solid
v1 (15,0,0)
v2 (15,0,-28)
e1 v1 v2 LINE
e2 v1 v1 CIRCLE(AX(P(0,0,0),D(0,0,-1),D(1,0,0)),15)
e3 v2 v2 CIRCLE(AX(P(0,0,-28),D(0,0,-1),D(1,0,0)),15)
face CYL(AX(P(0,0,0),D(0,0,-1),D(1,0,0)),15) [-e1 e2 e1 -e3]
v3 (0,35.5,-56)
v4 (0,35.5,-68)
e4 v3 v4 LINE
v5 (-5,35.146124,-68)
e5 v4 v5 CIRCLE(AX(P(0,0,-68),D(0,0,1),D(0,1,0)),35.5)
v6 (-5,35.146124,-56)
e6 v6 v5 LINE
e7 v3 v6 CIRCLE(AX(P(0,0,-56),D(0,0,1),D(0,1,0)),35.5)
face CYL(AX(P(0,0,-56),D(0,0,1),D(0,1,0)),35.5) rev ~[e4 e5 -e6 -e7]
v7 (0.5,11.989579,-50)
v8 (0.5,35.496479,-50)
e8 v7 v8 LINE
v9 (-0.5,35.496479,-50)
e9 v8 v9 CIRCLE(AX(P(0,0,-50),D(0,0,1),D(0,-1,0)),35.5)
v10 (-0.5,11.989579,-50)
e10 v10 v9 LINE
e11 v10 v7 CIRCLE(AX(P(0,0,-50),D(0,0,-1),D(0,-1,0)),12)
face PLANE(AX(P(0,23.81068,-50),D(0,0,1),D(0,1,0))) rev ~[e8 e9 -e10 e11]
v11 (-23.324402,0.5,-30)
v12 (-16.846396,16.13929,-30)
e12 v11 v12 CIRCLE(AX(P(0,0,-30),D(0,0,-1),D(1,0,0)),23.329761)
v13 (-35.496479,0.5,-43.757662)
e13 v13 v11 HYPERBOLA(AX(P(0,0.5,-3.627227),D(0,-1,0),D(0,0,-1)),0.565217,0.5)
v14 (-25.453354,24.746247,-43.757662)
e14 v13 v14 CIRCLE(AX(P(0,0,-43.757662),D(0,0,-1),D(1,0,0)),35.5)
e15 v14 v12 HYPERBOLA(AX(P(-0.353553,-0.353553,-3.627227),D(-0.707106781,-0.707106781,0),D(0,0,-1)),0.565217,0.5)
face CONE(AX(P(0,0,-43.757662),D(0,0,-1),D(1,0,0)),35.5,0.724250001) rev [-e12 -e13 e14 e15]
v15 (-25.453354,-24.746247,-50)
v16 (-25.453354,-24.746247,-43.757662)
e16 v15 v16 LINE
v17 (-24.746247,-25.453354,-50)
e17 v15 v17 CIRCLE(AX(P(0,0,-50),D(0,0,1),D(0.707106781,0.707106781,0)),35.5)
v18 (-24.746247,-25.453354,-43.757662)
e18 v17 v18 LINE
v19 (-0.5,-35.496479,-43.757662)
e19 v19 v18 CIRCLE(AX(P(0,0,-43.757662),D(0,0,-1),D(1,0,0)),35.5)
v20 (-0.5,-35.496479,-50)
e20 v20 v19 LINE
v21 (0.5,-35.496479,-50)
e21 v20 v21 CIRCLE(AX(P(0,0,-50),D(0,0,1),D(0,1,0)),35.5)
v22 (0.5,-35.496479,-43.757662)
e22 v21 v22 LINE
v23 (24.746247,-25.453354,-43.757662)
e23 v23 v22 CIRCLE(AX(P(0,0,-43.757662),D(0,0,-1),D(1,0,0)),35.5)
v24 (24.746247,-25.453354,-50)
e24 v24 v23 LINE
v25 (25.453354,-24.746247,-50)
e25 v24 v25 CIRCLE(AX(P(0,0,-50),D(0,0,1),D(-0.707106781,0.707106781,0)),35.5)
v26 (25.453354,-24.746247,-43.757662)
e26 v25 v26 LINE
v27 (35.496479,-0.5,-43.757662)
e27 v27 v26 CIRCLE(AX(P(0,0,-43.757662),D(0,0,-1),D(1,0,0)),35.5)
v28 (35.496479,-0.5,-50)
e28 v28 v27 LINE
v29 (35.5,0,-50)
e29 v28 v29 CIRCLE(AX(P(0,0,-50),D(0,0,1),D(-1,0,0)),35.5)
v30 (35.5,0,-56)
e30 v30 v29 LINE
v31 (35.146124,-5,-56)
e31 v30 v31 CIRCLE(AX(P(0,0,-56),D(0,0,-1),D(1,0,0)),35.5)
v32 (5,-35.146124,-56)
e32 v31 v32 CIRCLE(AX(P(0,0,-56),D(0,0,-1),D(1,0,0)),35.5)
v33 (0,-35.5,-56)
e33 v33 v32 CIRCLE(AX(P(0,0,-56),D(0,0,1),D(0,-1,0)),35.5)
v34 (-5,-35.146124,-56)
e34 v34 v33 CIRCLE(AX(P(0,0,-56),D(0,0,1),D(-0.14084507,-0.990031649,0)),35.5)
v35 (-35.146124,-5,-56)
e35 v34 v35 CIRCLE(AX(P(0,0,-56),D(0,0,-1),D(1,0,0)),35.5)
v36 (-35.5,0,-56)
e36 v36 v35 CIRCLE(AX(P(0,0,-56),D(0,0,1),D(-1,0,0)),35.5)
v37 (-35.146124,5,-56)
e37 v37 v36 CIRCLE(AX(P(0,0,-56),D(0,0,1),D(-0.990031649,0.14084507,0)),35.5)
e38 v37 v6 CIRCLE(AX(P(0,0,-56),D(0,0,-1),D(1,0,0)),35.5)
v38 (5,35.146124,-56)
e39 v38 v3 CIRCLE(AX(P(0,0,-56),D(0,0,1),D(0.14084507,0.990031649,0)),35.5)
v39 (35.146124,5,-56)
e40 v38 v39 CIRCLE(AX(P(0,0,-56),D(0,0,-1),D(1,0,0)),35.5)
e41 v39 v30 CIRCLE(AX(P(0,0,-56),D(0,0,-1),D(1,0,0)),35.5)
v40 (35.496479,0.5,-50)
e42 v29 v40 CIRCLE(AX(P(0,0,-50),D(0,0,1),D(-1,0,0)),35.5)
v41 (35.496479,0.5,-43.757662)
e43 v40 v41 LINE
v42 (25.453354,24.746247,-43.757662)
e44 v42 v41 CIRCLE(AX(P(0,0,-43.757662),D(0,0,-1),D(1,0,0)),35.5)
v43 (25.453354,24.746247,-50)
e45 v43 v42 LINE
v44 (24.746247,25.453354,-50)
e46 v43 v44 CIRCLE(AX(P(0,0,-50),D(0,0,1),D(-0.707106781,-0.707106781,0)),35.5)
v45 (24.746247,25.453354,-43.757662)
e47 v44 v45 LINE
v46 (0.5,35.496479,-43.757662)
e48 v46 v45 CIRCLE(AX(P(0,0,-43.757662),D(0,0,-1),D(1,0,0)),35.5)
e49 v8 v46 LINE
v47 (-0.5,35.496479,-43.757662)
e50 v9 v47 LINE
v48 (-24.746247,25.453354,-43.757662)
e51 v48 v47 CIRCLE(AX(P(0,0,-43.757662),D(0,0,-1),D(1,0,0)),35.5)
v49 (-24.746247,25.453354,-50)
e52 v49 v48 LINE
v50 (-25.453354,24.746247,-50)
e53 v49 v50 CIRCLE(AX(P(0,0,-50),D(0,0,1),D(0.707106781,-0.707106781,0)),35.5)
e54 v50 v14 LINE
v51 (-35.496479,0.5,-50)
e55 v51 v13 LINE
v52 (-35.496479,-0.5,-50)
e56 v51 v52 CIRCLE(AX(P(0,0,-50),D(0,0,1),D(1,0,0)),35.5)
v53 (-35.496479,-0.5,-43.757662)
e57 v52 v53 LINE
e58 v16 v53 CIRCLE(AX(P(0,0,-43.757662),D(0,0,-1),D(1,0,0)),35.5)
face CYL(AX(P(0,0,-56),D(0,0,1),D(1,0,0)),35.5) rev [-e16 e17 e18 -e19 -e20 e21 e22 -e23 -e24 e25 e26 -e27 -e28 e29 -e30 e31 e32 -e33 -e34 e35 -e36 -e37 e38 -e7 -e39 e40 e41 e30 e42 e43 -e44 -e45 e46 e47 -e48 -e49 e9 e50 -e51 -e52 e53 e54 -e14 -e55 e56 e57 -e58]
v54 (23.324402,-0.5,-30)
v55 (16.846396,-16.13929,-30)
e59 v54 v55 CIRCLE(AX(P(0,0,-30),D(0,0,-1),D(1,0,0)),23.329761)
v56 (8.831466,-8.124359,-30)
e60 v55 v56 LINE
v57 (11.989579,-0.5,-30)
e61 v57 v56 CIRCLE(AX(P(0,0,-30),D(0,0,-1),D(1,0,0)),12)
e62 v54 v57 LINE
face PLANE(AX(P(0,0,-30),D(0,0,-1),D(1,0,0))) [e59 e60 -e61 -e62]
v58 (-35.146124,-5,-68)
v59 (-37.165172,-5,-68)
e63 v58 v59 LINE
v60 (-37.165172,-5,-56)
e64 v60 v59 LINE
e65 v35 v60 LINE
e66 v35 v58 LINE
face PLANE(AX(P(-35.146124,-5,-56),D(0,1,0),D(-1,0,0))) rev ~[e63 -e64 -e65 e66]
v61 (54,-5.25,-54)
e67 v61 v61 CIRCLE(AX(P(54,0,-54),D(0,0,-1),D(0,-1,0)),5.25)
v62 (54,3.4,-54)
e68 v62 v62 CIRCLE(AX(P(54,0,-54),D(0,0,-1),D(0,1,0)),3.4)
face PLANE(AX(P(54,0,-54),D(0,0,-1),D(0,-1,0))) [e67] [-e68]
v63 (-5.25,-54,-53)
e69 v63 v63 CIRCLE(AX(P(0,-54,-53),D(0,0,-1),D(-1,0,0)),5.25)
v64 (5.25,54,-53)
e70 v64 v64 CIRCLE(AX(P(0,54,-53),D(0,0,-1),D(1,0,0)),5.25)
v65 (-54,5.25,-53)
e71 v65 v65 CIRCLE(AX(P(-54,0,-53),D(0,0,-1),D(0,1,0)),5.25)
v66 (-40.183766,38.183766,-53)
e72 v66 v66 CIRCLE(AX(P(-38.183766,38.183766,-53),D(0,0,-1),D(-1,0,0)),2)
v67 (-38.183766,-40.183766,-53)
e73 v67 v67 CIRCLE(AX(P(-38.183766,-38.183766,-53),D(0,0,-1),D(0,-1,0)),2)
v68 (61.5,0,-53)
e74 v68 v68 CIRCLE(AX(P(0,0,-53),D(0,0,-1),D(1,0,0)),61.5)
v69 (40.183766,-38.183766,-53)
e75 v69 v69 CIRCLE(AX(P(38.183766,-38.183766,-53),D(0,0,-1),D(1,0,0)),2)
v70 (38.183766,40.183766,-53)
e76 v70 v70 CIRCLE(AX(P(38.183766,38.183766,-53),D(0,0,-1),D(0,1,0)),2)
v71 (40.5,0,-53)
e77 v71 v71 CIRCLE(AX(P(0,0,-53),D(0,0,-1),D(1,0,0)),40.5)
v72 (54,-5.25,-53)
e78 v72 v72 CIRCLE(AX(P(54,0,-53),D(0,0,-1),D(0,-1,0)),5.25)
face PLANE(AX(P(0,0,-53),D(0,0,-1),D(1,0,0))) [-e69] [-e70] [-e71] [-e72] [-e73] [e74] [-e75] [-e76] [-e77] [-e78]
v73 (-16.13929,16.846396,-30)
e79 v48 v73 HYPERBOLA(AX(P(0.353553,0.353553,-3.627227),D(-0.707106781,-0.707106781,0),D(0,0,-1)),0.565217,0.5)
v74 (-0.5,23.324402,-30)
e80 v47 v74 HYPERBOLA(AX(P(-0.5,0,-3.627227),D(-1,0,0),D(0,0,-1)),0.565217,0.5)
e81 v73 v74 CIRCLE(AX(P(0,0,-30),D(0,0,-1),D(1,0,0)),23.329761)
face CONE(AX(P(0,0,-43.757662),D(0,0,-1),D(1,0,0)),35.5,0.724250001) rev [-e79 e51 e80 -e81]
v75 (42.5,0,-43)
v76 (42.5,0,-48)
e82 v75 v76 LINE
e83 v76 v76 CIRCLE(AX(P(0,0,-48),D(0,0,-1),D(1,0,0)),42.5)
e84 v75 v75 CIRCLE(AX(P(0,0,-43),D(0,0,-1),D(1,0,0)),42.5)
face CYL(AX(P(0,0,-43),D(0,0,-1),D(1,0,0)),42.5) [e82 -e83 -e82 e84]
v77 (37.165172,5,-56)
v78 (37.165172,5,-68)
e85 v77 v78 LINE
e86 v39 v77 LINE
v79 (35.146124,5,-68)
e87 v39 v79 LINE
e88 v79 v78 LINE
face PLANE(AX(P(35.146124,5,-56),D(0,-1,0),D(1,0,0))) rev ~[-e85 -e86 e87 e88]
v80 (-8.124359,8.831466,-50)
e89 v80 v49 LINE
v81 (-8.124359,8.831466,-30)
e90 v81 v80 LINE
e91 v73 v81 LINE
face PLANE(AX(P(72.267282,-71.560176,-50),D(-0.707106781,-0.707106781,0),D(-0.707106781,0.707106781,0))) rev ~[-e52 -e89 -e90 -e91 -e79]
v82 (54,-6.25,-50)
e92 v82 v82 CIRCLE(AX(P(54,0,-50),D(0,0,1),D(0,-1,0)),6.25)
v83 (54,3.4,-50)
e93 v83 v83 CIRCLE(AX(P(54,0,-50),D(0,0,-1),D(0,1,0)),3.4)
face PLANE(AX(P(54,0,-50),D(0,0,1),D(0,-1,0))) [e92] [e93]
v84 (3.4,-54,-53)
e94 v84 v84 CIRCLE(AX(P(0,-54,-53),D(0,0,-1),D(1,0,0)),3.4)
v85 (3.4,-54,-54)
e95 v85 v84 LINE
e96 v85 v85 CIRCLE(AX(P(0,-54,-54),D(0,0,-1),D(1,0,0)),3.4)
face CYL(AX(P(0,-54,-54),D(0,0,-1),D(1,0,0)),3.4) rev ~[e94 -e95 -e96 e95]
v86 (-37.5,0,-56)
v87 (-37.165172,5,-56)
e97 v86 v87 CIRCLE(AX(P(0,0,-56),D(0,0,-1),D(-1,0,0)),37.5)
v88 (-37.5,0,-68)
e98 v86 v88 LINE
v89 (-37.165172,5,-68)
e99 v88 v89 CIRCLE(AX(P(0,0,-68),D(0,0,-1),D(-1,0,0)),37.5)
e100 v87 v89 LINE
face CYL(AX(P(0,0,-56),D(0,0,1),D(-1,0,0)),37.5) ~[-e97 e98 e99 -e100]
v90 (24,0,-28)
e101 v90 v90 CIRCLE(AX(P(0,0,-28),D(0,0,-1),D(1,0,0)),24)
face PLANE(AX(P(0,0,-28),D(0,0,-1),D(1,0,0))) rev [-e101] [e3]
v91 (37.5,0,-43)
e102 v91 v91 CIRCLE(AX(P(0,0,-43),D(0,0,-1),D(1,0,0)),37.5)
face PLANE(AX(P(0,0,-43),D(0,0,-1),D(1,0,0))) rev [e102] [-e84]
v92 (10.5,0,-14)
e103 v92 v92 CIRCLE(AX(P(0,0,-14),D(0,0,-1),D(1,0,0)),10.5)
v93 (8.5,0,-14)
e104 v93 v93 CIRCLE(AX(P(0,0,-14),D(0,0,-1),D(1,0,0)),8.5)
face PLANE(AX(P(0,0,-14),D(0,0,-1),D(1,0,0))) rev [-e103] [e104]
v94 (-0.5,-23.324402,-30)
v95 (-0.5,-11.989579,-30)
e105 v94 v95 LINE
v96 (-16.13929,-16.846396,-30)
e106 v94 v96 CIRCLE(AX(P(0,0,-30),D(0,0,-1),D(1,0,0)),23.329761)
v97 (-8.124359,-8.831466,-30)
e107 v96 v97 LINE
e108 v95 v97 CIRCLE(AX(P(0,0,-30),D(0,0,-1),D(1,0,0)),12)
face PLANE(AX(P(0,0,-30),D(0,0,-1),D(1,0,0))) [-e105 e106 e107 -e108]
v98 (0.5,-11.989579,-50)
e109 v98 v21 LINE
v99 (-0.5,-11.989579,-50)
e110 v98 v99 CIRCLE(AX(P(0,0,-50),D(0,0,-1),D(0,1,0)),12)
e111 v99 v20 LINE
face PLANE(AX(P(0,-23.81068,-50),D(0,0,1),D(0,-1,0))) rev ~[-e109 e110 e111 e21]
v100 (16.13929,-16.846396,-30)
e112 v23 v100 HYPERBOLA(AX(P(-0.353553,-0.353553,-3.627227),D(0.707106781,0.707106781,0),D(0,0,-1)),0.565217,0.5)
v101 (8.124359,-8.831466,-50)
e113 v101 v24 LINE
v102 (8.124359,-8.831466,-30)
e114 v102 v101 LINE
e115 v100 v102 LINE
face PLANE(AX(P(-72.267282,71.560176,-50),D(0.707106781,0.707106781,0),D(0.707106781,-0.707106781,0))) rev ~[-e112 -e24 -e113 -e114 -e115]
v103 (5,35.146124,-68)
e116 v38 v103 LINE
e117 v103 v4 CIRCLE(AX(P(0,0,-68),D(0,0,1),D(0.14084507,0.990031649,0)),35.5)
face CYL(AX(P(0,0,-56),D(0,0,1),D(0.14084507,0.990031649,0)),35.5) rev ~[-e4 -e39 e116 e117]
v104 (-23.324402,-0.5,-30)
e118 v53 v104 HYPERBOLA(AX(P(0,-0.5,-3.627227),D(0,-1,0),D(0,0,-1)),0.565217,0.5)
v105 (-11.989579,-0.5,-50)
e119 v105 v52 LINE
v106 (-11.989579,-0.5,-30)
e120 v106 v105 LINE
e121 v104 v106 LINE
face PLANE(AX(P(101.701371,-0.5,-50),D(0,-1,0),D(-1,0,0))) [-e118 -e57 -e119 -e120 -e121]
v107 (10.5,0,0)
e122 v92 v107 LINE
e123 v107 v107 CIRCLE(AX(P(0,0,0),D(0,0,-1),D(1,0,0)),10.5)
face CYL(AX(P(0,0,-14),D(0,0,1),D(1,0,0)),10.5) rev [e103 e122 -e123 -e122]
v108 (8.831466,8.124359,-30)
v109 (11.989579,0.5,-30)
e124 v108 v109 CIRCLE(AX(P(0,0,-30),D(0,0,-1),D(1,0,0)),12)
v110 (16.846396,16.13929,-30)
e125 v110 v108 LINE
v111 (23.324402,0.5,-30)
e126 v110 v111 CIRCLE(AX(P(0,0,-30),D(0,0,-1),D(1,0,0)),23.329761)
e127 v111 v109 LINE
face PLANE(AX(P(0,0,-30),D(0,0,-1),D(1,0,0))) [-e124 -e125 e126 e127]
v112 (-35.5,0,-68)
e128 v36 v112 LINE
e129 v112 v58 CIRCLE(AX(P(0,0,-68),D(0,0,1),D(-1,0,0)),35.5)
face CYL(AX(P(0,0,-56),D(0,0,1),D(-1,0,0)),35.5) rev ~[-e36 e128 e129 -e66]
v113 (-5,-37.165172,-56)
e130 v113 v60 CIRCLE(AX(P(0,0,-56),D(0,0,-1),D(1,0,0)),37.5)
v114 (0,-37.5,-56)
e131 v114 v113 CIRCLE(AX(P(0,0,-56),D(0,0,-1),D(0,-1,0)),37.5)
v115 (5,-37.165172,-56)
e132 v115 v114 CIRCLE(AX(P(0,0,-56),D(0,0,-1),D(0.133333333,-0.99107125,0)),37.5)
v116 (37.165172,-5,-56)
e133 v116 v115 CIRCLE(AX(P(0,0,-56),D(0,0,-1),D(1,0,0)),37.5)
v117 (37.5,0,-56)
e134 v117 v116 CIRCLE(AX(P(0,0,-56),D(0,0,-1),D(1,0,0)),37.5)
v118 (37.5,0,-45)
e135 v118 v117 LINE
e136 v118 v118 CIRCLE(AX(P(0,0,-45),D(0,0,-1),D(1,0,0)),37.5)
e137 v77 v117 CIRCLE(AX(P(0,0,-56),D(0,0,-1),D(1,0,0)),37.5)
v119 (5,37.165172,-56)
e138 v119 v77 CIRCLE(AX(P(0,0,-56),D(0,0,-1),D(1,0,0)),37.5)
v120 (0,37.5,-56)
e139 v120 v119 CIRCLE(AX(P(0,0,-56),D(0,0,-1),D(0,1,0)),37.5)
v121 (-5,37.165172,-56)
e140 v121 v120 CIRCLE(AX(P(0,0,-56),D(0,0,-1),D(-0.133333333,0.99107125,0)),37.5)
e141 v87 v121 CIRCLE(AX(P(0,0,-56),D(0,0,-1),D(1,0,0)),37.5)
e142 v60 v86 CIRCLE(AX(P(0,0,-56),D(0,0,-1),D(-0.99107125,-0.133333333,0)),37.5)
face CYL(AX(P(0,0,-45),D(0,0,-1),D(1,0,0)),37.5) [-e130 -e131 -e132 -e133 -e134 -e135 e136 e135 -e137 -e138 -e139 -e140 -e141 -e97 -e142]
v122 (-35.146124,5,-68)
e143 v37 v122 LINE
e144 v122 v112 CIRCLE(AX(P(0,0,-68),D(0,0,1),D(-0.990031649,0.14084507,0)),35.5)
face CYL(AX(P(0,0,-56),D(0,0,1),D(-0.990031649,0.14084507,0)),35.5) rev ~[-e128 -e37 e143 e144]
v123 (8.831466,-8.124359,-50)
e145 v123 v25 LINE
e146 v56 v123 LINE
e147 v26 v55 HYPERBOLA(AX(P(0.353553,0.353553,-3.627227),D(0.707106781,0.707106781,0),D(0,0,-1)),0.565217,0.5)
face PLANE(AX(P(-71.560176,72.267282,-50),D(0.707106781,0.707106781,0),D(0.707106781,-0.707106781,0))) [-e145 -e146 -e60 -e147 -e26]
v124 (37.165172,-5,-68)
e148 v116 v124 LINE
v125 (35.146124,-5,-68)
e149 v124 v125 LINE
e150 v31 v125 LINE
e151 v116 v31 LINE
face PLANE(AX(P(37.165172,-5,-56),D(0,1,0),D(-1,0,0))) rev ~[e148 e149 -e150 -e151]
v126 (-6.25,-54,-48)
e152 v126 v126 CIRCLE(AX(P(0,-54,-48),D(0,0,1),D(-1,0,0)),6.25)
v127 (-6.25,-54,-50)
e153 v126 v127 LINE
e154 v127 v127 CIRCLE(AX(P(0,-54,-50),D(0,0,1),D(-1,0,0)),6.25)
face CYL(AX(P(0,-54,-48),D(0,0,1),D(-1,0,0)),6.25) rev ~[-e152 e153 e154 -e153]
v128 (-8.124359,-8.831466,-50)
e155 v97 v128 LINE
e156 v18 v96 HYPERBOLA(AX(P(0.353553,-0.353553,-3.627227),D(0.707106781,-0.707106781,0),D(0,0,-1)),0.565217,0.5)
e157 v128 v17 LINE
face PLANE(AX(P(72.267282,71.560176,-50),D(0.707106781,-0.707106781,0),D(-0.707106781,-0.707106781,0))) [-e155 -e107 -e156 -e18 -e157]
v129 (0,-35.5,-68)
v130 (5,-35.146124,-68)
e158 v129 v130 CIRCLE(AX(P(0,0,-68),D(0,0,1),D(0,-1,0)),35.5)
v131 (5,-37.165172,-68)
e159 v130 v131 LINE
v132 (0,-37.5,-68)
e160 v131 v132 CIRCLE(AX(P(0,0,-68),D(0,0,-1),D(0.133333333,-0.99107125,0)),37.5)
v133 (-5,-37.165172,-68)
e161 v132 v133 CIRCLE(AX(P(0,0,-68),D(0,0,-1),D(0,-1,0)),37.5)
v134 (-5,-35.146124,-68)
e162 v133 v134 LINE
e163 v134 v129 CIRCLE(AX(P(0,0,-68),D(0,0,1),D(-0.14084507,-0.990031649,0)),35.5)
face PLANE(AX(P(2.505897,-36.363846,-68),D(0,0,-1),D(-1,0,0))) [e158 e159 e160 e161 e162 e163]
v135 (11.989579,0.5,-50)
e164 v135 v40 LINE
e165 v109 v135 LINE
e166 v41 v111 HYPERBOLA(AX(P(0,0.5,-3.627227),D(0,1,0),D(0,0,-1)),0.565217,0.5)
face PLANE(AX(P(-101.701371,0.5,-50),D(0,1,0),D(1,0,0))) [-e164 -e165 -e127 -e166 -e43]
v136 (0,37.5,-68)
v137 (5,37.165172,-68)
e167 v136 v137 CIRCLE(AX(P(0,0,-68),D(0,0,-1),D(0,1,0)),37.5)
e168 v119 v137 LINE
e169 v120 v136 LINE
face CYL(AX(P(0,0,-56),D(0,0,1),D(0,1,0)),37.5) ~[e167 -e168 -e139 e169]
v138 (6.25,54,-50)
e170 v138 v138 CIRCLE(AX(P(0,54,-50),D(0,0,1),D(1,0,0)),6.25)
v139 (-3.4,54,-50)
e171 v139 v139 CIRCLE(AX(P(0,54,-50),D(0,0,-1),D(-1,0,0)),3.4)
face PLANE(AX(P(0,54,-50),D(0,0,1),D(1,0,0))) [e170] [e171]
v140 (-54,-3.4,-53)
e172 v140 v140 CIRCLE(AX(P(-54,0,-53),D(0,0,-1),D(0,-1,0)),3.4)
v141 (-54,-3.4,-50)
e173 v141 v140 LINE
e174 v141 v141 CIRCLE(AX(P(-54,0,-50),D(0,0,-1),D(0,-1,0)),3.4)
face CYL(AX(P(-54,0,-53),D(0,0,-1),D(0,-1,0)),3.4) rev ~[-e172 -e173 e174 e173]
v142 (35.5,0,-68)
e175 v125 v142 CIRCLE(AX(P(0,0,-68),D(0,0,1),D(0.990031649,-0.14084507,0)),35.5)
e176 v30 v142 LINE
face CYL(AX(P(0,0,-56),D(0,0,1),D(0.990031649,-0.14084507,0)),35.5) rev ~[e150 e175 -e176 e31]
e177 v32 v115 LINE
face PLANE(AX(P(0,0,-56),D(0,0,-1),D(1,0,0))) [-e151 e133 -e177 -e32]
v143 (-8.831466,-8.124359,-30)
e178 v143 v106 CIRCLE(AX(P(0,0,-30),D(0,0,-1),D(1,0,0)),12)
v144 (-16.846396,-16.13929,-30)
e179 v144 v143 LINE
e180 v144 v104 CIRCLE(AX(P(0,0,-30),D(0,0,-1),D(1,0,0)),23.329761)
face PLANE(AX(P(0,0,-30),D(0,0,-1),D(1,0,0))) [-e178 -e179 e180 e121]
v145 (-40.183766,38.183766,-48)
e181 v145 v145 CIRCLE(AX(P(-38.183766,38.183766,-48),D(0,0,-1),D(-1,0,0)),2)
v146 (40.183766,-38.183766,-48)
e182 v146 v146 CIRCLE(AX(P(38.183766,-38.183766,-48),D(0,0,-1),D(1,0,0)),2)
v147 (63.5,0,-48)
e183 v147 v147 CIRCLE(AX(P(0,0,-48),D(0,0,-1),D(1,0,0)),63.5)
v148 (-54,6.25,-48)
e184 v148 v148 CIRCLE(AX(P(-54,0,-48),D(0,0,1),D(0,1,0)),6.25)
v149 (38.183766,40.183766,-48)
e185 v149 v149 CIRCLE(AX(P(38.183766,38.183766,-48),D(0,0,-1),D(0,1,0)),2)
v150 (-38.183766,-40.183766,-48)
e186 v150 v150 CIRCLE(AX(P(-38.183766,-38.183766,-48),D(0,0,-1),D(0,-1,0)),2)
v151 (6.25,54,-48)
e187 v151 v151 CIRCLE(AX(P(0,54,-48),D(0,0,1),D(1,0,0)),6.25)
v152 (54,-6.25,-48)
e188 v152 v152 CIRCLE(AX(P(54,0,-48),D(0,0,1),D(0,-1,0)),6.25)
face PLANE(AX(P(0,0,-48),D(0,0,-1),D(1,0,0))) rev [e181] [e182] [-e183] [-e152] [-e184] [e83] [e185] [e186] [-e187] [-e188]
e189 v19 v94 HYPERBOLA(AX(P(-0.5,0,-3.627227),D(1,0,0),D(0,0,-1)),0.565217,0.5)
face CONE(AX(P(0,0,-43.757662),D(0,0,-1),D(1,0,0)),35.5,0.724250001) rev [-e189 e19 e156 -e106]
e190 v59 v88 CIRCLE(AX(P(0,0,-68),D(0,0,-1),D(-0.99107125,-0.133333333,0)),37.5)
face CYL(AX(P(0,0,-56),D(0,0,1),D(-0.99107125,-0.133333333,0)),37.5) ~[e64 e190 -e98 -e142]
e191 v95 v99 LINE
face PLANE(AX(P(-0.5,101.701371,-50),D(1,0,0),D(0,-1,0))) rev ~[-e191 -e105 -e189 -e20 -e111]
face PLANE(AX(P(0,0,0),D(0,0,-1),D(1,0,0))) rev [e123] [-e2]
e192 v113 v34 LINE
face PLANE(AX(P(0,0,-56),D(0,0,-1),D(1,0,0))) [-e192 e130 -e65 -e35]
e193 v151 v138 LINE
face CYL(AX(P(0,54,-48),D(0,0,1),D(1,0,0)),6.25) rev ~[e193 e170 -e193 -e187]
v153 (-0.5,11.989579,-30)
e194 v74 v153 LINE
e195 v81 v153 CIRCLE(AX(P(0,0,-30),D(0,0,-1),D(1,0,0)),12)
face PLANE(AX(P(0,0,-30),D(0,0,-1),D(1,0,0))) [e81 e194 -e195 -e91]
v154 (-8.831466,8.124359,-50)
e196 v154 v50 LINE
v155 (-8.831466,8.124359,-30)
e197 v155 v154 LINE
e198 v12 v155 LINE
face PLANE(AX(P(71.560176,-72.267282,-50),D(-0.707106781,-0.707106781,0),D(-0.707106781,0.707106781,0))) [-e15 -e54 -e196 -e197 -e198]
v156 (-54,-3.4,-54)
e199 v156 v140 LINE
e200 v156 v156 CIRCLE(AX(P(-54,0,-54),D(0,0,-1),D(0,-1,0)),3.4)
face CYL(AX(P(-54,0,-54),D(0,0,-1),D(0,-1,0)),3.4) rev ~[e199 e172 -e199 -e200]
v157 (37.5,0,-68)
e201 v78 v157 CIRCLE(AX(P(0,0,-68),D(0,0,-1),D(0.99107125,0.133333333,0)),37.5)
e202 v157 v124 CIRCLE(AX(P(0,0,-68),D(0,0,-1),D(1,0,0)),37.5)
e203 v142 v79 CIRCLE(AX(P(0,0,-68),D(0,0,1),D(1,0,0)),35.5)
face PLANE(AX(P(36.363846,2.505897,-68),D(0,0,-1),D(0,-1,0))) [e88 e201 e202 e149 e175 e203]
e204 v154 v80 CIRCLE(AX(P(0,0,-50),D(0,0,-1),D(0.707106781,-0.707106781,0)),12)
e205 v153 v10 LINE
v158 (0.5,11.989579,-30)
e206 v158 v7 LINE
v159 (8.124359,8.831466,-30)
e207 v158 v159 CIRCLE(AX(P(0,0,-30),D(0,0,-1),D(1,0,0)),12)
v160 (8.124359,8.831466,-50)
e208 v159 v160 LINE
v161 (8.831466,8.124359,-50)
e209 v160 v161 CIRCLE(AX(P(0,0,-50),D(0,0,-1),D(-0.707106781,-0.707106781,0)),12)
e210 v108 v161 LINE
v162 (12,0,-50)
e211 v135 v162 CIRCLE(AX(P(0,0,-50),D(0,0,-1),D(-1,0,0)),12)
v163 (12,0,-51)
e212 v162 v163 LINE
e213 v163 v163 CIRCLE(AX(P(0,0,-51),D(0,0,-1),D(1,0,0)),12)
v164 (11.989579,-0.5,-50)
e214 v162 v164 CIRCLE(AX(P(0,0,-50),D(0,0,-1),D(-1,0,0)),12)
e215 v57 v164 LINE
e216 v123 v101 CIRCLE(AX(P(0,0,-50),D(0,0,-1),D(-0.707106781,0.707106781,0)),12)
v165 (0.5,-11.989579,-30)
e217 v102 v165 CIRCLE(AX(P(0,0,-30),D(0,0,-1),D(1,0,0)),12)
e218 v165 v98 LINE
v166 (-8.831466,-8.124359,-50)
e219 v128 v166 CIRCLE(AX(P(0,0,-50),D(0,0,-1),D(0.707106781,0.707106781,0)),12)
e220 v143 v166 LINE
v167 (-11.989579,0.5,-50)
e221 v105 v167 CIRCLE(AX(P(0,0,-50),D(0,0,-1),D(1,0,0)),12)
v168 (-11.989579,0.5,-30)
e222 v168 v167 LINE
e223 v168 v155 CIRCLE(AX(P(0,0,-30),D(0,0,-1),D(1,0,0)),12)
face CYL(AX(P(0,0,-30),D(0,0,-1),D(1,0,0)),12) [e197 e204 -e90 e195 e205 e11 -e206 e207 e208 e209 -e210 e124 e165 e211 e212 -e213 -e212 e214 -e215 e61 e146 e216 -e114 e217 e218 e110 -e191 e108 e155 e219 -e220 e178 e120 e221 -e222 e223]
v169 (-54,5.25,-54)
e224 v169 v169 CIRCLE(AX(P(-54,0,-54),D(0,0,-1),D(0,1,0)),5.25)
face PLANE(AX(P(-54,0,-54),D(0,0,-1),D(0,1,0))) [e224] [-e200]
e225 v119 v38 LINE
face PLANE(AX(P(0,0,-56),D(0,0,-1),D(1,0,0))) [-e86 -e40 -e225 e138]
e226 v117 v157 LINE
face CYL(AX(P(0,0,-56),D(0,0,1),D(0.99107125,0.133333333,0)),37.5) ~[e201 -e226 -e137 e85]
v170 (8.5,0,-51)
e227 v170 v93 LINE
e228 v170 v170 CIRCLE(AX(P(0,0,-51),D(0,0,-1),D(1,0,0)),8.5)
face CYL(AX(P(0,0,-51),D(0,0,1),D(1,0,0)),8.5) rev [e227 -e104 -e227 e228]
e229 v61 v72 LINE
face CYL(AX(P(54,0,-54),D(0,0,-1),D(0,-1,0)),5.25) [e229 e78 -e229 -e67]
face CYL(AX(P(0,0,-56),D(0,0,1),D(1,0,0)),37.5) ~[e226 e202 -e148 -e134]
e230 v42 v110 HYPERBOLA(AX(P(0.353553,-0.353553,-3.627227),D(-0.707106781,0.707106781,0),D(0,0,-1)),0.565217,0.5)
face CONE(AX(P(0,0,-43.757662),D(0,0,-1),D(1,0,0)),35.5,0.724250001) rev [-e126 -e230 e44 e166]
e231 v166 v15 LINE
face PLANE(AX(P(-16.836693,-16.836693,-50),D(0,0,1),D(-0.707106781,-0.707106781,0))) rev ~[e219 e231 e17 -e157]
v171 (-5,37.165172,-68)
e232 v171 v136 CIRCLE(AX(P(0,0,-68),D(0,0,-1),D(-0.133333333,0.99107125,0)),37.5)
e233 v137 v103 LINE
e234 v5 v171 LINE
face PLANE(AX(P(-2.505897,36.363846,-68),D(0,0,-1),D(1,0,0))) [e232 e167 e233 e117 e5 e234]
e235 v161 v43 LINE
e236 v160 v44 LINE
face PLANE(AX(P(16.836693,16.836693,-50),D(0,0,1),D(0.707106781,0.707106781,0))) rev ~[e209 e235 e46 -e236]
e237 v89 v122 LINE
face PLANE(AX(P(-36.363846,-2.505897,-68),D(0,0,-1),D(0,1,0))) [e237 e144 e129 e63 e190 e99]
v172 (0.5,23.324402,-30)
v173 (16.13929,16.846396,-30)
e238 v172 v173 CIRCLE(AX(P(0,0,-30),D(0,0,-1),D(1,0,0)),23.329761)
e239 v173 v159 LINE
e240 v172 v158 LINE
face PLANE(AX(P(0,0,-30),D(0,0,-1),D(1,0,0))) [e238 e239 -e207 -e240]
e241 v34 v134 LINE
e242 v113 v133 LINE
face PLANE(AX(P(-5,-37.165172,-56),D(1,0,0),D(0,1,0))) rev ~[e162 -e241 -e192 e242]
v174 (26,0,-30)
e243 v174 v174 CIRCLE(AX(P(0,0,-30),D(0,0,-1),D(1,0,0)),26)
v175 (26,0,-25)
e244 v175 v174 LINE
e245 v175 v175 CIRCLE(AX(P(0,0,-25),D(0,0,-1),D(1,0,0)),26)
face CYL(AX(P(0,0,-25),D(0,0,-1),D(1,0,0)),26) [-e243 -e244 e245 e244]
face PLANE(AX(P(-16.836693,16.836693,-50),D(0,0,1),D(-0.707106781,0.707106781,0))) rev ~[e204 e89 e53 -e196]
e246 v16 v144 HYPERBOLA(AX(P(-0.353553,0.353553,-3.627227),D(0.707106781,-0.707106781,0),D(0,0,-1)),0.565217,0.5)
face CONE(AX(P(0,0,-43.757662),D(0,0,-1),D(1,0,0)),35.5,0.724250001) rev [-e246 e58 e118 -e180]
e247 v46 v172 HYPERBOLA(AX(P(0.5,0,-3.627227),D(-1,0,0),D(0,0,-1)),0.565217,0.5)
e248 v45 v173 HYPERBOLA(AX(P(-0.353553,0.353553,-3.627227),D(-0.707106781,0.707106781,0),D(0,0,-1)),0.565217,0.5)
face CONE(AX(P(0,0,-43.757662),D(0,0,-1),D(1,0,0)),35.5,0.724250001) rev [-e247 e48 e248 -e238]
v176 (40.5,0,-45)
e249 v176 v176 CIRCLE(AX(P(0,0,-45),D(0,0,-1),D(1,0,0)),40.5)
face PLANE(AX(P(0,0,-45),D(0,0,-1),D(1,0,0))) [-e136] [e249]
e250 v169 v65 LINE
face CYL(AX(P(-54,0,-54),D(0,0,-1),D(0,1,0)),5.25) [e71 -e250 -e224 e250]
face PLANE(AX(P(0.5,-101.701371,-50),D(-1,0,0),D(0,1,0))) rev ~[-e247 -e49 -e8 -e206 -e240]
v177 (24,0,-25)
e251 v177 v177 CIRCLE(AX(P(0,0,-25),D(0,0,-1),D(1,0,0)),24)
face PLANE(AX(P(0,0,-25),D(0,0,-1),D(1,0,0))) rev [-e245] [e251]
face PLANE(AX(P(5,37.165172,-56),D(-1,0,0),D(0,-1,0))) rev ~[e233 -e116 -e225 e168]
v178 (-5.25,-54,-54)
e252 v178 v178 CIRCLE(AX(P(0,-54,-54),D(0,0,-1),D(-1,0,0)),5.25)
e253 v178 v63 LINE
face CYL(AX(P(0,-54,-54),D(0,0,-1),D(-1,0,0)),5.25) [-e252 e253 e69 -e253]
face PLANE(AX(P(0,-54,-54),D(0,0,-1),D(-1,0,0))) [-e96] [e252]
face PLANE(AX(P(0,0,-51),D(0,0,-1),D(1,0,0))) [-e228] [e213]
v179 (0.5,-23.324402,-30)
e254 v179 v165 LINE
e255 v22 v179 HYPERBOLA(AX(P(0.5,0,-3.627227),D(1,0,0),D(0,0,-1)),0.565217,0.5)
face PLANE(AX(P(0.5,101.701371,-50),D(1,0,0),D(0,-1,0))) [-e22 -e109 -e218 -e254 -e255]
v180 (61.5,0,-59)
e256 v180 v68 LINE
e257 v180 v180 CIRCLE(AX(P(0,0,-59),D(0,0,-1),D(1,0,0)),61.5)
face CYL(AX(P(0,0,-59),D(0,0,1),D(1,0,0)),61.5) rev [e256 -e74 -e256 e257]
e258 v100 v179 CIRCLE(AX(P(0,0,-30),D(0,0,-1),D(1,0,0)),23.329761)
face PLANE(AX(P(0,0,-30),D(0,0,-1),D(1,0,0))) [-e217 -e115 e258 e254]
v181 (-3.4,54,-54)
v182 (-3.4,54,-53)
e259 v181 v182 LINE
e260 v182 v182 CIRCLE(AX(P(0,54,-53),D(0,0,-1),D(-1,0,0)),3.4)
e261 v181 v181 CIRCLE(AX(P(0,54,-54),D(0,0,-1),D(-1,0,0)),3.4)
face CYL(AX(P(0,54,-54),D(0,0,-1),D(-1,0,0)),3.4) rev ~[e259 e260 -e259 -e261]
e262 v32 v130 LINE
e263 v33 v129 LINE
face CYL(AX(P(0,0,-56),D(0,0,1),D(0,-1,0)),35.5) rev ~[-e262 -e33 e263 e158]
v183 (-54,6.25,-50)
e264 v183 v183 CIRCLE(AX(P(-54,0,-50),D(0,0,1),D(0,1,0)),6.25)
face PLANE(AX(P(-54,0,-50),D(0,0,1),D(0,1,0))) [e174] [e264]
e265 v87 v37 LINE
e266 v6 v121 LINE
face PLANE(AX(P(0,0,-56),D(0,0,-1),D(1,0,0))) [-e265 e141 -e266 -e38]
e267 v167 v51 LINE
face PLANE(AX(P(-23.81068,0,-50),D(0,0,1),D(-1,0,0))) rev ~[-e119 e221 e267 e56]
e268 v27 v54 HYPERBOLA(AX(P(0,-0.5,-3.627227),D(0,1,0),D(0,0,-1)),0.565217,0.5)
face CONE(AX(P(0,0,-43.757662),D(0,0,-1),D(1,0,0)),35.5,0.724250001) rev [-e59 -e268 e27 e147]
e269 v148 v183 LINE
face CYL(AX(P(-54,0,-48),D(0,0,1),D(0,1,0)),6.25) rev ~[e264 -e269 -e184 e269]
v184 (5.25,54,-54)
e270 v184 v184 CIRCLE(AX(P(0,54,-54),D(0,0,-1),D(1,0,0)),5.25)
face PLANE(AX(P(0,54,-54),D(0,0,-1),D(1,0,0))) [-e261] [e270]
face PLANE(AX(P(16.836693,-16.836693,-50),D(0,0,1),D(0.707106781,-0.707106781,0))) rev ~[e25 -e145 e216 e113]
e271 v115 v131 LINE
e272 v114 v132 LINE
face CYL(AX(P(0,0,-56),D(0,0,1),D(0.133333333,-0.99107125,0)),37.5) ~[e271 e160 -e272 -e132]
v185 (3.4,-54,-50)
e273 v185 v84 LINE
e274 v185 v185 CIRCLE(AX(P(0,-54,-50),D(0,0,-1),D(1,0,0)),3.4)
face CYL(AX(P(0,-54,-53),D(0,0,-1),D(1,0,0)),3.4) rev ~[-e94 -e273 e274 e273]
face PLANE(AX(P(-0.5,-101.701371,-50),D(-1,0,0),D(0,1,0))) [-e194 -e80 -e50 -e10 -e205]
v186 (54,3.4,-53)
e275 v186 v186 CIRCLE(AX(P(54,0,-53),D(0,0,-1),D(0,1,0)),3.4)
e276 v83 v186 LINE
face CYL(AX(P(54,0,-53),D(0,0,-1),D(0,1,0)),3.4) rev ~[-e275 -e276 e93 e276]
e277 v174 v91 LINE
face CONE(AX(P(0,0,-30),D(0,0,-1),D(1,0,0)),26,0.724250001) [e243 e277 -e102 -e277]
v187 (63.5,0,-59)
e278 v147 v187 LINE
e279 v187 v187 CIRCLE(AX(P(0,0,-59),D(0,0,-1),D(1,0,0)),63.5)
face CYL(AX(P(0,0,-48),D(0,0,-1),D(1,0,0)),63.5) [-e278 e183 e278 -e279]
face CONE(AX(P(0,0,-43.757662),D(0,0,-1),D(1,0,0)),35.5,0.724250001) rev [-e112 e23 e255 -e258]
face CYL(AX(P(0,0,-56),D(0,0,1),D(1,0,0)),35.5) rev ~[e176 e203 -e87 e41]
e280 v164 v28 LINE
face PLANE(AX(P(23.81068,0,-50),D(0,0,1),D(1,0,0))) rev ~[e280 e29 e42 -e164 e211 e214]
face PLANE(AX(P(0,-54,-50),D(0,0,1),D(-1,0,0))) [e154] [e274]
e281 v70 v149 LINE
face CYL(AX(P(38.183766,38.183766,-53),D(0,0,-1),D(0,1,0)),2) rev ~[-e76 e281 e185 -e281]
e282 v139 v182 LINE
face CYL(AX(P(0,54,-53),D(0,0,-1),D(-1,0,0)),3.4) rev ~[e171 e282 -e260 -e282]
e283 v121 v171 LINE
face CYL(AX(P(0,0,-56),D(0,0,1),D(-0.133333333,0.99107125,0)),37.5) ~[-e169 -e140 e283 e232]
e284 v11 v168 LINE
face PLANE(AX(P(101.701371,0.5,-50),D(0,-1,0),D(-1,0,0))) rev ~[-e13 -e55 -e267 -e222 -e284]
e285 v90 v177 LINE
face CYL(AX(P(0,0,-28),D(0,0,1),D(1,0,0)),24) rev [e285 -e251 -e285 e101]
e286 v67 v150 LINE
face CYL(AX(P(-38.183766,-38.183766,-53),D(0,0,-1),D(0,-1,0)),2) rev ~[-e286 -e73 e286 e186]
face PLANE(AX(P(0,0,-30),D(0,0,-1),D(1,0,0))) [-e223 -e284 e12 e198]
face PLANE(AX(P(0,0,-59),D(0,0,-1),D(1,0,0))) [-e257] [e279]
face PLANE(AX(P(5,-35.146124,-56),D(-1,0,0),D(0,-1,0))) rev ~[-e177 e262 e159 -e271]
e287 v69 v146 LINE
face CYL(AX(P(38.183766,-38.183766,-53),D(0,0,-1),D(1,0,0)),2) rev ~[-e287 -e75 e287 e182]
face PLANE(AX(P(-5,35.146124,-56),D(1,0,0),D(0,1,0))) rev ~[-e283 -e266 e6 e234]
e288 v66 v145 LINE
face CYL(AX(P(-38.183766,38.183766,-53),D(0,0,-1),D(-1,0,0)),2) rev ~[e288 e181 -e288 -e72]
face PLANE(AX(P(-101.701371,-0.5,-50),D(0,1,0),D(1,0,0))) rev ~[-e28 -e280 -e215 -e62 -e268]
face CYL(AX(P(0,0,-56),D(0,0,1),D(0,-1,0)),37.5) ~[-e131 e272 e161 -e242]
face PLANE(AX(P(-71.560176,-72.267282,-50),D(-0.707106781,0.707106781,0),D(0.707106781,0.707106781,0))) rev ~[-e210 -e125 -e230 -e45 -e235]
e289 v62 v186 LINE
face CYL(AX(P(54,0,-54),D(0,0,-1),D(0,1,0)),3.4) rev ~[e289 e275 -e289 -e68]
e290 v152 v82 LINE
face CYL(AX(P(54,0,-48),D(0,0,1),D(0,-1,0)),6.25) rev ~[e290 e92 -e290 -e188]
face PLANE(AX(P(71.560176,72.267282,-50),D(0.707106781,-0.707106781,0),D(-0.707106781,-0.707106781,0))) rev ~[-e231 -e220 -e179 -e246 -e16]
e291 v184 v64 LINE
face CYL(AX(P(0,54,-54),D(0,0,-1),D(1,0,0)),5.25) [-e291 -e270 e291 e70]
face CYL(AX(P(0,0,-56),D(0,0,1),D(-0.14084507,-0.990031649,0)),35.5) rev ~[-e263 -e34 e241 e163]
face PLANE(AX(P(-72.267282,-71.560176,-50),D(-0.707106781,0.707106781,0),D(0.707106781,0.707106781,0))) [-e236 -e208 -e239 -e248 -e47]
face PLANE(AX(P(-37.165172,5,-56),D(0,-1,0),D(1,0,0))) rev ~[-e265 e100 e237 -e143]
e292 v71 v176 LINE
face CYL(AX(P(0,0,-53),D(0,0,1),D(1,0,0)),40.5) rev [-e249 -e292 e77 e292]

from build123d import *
from build123d.topology import SkipClean

# Parameters (mm, degrees)
EXTRUDE_1_DEPTH          = 12
PATTERN_CIRCULAR_1_COUNT = 4
RIB_1_REACH              = 114.643
SKETCH_4_WALL_W          = 251.024101548
SKETCH_4_WALL_H          = 1
PATTERN_CIRCULAR_2_COUNT = 8
SKETCH_6_R               = 3.4
CUT_EXTRUDE_1_DEPTH      = 105.276075876
SKETCH_7_R               = 6.25
CUT_EXTRUDE_2_DEPTH      = 2
PATTERN_CIRCULAR_3_COUNT = 4
SKETCH_8_R               = 2
CUT_EXTRUDE_3_DEPTH      = 105.276075876
PATTERN_CIRCULAR_4_COUNT = 4
EXTRUDE_START            = 1
SKETCH_9_R               = 5.25
SKETCH_9_R_2             = 3.4
EXTRUDE_2_DEPTH          = 1
PATTERN_CIRCULAR_5_COUNT = 4


with BuildPart() as part:
    # 草图1 → 旋转1 (revolve)
    with BuildSketch(Plane(origin=(0, 0, 0), x_dir=(0, 0, -1), z_dir=(1, 0, 0)), mode=Mode.PRIVATE) as revolve_1_sk:
        Polygon((0, 10.5), (0, 15), (28, 15), (28, 24), (25, 24), (25, 26), (30, 26), (43, 37.5), (43, 42.5), (48, 42.5), (48, 63.5), (59, 63.5), (59, 61.5), (53, 61.5), (53, 40.5), (45, 40.5), (45, 37.5), (56, 37.5), (56, 35.5), (43.757661732, 35.5), (30, 23.329760776), (30, 12), (51, 12), (51, 8.5), (14, 8.5), (14, 10.5), align=None)
    revolve(revolve_1_sk.sketch.rotate(Axis((0, 0, 0), (0, 0, -1)), 90), axis=Axis((0, 0, 0), (0, 0, -1)))

    # 草图3 → 凸台-拉伸1 (add)
    with BuildSketch(Plane(origin=(0, 0, -56), x_dir=(-1, 0, 0), z_dir=(0, 0, -1))):
        with BuildLine():
            Line((0, -37.5), (0, -35.5))
            ThreePointArc((0, -35.5), (-2.506253606, -35.411420373), (-5, -35.146123542))
            Line((-5, -35.146123542), (-5, -37.165171868))
            ThreePointArc((-5, -37.165171868), (-2.505599224, -37.416199333), (0, -37.5))
        make_face()
        with BuildLine():
            ThreePointArc((5, -35.146123542), (2.506253606, -35.411420373), (0, -35.5))
            Line((0, -35.5), (0, -37.5))
            ThreePointArc((0, -37.5), (2.505599224, -37.416199333), (5, -37.165171868))
            Line((5, -37.165171868), (5, -35.146123542))
        make_face()
    extrude_1 = extrude(amount=EXTRUDE_1_DEPTH)

    # 阵列(圆周)1: 凸台-拉伸1 ×4 about axis
    with SkipClean():  # the faces are left unmerged after this step: merging them gives an invalid solid
        pattern_circular_1_axis = Axis((0, 0, 0), (0, 0, 1))
        for i in range(1, PATTERN_CIRCULAR_1_COUNT):
            add(extrude_1.rotate(pattern_circular_1_axis, i * 360 / PATTERN_CIRCULAR_1_COUNT))

    # 草图4 wall → 筋1 (add, up to next)
    with BuildSketch(Plane(origin=(-23.810679894, 0, -50), x_dir=(-1, 0, 0), z_dir=(0, 0, 1)), mode=Mode.PRIVATE) as rib_1_sk1:
        Rectangle(SKETCH_4_WALL_W, SKETCH_4_WALL_H)
    rib_1_tool1 = extrude(rib_1_sk1.sketch, amount=RIB_1_REACH, mode=Mode.PRIVATE) - part.part
    rib_1 = rib_1_tool1.solids().sort_by_distance((-23.810679894, 0, -50))[0]
    add(rib_1)

    # 阵列(圆周)2: 筋1 ×8 about axis
    with SkipClean():  # the faces are left unmerged after this step: merging them gives an invalid solid
        pattern_circular_2_axis = Axis((0, 0, 0), (0, 0, 1))
        for i in range(1, PATTERN_CIRCULAR_2_COUNT):
            add(rib_1.rotate(pattern_circular_2_axis, i * 360 / PATTERN_CIRCULAR_2_COUNT))

    # 草图6 → 切除-拉伸1 (cut, symmetric)
    with SkipClean():  # the faces are left unmerged after this step: merging them gives an invalid solid
        with BuildSketch(Plane(origin=(0, 0, -53), x_dir=(-1, 0, 0), z_dir=(0, 0, -1))):
            with Locations((0, 54)):
                Circle(SKETCH_6_R)
        cut_extrude_1 = extrude(amount=CUT_EXTRUDE_1_DEPTH, both=True, mode=Mode.SUBTRACT)

    # 草图7 → 切除-拉伸2 (cut)
    with SkipClean():  # the faces are left unmerged after this step: merging them gives an invalid solid
        with BuildSketch(Plane.XY.offset(-48)):
            with Locations((0, 54)):
                Circle(SKETCH_7_R)
        cut_extrude_2 = extrude(amount=-CUT_EXTRUDE_2_DEPTH, mode=Mode.SUBTRACT)

    # 阵列(圆周)3: 切除-拉伸1, 切除-拉伸2 ×4 about axis
    with SkipClean():  # the faces are left unmerged after this step: merging them gives an invalid solid
        pattern_circular_3_axis = Axis((0, 0, 0), (0, 0, 1))
        add([cut_extrude_1.rotate(pattern_circular_3_axis, i * 360 / PATTERN_CIRCULAR_3_COUNT) for i in range(1, PATTERN_CIRCULAR_3_COUNT)], mode=Mode.SUBTRACT)
        add([cut_extrude_2.rotate(pattern_circular_3_axis, i * 360 / PATTERN_CIRCULAR_3_COUNT) for i in range(1, PATTERN_CIRCULAR_3_COUNT)], mode=Mode.SUBTRACT)

    # 草图8 → 切除-拉伸3 (cut, through all)
    with SkipClean():  # the faces are left unmerged after this step: merging them gives an invalid solid
        with BuildSketch(Plane(origin=(0, 0, -53), x_dir=(-1, 0, 0), z_dir=(0, 0, -1))):
            with Locations((38.183766184, 38.183766184)):
                Circle(SKETCH_8_R)
        cut_extrude_3 = extrude(amount=-CUT_EXTRUDE_3_DEPTH, mode=Mode.SUBTRACT)

    # 阵列(圆周)4: 切除-拉伸3 ×4 about axis
    with SkipClean():  # the faces are left unmerged after this step: merging them gives an invalid solid
        pattern_circular_4_axis = Axis((0, 0, 0), (0, 0, 1))
        for i in range(1, PATTERN_CIRCULAR_4_COUNT):
            add(cut_extrude_3.rotate(pattern_circular_4_axis, i * 360 / PATTERN_CIRCULAR_4_COUNT), mode=Mode.SUBTRACT)

    # 草图9 → 凸台-拉伸2 (add)
    with SkipClean():  # the faces are left unmerged after this step: merging them gives an invalid solid
        with BuildSketch(Plane(origin=(0, 0, -53), x_dir=(-1, 0, 0), z_dir=(0, 0, -1)).offset(EXTRUDE_START)):
            with Locations(Location((0, 54, 0), (0, 0, 180))):
                Circle(SKETCH_9_R)
            with Locations((0, 54)):
                Circle(SKETCH_9_R_2, mode=Mode.SUBTRACT)
        extrude_2 = extrude(amount=-EXTRUDE_2_DEPTH)

    # 阵列(圆周)5: 凸台-拉伸2 ×4 about axis
    with SkipClean():  # the faces are left unmerged after this step: merging them gives an invalid solid
        pattern_circular_5_axis = Axis((0, 0, 0), (0, 0, 1))
        for i in range(1, PATTERN_CIRCULAR_5_COUNT):
            add(extrude_2.rotate(pattern_circular_5_axis, i * 360 / PATTERN_CIRCULAR_5_COUNT))


solid = part.part
